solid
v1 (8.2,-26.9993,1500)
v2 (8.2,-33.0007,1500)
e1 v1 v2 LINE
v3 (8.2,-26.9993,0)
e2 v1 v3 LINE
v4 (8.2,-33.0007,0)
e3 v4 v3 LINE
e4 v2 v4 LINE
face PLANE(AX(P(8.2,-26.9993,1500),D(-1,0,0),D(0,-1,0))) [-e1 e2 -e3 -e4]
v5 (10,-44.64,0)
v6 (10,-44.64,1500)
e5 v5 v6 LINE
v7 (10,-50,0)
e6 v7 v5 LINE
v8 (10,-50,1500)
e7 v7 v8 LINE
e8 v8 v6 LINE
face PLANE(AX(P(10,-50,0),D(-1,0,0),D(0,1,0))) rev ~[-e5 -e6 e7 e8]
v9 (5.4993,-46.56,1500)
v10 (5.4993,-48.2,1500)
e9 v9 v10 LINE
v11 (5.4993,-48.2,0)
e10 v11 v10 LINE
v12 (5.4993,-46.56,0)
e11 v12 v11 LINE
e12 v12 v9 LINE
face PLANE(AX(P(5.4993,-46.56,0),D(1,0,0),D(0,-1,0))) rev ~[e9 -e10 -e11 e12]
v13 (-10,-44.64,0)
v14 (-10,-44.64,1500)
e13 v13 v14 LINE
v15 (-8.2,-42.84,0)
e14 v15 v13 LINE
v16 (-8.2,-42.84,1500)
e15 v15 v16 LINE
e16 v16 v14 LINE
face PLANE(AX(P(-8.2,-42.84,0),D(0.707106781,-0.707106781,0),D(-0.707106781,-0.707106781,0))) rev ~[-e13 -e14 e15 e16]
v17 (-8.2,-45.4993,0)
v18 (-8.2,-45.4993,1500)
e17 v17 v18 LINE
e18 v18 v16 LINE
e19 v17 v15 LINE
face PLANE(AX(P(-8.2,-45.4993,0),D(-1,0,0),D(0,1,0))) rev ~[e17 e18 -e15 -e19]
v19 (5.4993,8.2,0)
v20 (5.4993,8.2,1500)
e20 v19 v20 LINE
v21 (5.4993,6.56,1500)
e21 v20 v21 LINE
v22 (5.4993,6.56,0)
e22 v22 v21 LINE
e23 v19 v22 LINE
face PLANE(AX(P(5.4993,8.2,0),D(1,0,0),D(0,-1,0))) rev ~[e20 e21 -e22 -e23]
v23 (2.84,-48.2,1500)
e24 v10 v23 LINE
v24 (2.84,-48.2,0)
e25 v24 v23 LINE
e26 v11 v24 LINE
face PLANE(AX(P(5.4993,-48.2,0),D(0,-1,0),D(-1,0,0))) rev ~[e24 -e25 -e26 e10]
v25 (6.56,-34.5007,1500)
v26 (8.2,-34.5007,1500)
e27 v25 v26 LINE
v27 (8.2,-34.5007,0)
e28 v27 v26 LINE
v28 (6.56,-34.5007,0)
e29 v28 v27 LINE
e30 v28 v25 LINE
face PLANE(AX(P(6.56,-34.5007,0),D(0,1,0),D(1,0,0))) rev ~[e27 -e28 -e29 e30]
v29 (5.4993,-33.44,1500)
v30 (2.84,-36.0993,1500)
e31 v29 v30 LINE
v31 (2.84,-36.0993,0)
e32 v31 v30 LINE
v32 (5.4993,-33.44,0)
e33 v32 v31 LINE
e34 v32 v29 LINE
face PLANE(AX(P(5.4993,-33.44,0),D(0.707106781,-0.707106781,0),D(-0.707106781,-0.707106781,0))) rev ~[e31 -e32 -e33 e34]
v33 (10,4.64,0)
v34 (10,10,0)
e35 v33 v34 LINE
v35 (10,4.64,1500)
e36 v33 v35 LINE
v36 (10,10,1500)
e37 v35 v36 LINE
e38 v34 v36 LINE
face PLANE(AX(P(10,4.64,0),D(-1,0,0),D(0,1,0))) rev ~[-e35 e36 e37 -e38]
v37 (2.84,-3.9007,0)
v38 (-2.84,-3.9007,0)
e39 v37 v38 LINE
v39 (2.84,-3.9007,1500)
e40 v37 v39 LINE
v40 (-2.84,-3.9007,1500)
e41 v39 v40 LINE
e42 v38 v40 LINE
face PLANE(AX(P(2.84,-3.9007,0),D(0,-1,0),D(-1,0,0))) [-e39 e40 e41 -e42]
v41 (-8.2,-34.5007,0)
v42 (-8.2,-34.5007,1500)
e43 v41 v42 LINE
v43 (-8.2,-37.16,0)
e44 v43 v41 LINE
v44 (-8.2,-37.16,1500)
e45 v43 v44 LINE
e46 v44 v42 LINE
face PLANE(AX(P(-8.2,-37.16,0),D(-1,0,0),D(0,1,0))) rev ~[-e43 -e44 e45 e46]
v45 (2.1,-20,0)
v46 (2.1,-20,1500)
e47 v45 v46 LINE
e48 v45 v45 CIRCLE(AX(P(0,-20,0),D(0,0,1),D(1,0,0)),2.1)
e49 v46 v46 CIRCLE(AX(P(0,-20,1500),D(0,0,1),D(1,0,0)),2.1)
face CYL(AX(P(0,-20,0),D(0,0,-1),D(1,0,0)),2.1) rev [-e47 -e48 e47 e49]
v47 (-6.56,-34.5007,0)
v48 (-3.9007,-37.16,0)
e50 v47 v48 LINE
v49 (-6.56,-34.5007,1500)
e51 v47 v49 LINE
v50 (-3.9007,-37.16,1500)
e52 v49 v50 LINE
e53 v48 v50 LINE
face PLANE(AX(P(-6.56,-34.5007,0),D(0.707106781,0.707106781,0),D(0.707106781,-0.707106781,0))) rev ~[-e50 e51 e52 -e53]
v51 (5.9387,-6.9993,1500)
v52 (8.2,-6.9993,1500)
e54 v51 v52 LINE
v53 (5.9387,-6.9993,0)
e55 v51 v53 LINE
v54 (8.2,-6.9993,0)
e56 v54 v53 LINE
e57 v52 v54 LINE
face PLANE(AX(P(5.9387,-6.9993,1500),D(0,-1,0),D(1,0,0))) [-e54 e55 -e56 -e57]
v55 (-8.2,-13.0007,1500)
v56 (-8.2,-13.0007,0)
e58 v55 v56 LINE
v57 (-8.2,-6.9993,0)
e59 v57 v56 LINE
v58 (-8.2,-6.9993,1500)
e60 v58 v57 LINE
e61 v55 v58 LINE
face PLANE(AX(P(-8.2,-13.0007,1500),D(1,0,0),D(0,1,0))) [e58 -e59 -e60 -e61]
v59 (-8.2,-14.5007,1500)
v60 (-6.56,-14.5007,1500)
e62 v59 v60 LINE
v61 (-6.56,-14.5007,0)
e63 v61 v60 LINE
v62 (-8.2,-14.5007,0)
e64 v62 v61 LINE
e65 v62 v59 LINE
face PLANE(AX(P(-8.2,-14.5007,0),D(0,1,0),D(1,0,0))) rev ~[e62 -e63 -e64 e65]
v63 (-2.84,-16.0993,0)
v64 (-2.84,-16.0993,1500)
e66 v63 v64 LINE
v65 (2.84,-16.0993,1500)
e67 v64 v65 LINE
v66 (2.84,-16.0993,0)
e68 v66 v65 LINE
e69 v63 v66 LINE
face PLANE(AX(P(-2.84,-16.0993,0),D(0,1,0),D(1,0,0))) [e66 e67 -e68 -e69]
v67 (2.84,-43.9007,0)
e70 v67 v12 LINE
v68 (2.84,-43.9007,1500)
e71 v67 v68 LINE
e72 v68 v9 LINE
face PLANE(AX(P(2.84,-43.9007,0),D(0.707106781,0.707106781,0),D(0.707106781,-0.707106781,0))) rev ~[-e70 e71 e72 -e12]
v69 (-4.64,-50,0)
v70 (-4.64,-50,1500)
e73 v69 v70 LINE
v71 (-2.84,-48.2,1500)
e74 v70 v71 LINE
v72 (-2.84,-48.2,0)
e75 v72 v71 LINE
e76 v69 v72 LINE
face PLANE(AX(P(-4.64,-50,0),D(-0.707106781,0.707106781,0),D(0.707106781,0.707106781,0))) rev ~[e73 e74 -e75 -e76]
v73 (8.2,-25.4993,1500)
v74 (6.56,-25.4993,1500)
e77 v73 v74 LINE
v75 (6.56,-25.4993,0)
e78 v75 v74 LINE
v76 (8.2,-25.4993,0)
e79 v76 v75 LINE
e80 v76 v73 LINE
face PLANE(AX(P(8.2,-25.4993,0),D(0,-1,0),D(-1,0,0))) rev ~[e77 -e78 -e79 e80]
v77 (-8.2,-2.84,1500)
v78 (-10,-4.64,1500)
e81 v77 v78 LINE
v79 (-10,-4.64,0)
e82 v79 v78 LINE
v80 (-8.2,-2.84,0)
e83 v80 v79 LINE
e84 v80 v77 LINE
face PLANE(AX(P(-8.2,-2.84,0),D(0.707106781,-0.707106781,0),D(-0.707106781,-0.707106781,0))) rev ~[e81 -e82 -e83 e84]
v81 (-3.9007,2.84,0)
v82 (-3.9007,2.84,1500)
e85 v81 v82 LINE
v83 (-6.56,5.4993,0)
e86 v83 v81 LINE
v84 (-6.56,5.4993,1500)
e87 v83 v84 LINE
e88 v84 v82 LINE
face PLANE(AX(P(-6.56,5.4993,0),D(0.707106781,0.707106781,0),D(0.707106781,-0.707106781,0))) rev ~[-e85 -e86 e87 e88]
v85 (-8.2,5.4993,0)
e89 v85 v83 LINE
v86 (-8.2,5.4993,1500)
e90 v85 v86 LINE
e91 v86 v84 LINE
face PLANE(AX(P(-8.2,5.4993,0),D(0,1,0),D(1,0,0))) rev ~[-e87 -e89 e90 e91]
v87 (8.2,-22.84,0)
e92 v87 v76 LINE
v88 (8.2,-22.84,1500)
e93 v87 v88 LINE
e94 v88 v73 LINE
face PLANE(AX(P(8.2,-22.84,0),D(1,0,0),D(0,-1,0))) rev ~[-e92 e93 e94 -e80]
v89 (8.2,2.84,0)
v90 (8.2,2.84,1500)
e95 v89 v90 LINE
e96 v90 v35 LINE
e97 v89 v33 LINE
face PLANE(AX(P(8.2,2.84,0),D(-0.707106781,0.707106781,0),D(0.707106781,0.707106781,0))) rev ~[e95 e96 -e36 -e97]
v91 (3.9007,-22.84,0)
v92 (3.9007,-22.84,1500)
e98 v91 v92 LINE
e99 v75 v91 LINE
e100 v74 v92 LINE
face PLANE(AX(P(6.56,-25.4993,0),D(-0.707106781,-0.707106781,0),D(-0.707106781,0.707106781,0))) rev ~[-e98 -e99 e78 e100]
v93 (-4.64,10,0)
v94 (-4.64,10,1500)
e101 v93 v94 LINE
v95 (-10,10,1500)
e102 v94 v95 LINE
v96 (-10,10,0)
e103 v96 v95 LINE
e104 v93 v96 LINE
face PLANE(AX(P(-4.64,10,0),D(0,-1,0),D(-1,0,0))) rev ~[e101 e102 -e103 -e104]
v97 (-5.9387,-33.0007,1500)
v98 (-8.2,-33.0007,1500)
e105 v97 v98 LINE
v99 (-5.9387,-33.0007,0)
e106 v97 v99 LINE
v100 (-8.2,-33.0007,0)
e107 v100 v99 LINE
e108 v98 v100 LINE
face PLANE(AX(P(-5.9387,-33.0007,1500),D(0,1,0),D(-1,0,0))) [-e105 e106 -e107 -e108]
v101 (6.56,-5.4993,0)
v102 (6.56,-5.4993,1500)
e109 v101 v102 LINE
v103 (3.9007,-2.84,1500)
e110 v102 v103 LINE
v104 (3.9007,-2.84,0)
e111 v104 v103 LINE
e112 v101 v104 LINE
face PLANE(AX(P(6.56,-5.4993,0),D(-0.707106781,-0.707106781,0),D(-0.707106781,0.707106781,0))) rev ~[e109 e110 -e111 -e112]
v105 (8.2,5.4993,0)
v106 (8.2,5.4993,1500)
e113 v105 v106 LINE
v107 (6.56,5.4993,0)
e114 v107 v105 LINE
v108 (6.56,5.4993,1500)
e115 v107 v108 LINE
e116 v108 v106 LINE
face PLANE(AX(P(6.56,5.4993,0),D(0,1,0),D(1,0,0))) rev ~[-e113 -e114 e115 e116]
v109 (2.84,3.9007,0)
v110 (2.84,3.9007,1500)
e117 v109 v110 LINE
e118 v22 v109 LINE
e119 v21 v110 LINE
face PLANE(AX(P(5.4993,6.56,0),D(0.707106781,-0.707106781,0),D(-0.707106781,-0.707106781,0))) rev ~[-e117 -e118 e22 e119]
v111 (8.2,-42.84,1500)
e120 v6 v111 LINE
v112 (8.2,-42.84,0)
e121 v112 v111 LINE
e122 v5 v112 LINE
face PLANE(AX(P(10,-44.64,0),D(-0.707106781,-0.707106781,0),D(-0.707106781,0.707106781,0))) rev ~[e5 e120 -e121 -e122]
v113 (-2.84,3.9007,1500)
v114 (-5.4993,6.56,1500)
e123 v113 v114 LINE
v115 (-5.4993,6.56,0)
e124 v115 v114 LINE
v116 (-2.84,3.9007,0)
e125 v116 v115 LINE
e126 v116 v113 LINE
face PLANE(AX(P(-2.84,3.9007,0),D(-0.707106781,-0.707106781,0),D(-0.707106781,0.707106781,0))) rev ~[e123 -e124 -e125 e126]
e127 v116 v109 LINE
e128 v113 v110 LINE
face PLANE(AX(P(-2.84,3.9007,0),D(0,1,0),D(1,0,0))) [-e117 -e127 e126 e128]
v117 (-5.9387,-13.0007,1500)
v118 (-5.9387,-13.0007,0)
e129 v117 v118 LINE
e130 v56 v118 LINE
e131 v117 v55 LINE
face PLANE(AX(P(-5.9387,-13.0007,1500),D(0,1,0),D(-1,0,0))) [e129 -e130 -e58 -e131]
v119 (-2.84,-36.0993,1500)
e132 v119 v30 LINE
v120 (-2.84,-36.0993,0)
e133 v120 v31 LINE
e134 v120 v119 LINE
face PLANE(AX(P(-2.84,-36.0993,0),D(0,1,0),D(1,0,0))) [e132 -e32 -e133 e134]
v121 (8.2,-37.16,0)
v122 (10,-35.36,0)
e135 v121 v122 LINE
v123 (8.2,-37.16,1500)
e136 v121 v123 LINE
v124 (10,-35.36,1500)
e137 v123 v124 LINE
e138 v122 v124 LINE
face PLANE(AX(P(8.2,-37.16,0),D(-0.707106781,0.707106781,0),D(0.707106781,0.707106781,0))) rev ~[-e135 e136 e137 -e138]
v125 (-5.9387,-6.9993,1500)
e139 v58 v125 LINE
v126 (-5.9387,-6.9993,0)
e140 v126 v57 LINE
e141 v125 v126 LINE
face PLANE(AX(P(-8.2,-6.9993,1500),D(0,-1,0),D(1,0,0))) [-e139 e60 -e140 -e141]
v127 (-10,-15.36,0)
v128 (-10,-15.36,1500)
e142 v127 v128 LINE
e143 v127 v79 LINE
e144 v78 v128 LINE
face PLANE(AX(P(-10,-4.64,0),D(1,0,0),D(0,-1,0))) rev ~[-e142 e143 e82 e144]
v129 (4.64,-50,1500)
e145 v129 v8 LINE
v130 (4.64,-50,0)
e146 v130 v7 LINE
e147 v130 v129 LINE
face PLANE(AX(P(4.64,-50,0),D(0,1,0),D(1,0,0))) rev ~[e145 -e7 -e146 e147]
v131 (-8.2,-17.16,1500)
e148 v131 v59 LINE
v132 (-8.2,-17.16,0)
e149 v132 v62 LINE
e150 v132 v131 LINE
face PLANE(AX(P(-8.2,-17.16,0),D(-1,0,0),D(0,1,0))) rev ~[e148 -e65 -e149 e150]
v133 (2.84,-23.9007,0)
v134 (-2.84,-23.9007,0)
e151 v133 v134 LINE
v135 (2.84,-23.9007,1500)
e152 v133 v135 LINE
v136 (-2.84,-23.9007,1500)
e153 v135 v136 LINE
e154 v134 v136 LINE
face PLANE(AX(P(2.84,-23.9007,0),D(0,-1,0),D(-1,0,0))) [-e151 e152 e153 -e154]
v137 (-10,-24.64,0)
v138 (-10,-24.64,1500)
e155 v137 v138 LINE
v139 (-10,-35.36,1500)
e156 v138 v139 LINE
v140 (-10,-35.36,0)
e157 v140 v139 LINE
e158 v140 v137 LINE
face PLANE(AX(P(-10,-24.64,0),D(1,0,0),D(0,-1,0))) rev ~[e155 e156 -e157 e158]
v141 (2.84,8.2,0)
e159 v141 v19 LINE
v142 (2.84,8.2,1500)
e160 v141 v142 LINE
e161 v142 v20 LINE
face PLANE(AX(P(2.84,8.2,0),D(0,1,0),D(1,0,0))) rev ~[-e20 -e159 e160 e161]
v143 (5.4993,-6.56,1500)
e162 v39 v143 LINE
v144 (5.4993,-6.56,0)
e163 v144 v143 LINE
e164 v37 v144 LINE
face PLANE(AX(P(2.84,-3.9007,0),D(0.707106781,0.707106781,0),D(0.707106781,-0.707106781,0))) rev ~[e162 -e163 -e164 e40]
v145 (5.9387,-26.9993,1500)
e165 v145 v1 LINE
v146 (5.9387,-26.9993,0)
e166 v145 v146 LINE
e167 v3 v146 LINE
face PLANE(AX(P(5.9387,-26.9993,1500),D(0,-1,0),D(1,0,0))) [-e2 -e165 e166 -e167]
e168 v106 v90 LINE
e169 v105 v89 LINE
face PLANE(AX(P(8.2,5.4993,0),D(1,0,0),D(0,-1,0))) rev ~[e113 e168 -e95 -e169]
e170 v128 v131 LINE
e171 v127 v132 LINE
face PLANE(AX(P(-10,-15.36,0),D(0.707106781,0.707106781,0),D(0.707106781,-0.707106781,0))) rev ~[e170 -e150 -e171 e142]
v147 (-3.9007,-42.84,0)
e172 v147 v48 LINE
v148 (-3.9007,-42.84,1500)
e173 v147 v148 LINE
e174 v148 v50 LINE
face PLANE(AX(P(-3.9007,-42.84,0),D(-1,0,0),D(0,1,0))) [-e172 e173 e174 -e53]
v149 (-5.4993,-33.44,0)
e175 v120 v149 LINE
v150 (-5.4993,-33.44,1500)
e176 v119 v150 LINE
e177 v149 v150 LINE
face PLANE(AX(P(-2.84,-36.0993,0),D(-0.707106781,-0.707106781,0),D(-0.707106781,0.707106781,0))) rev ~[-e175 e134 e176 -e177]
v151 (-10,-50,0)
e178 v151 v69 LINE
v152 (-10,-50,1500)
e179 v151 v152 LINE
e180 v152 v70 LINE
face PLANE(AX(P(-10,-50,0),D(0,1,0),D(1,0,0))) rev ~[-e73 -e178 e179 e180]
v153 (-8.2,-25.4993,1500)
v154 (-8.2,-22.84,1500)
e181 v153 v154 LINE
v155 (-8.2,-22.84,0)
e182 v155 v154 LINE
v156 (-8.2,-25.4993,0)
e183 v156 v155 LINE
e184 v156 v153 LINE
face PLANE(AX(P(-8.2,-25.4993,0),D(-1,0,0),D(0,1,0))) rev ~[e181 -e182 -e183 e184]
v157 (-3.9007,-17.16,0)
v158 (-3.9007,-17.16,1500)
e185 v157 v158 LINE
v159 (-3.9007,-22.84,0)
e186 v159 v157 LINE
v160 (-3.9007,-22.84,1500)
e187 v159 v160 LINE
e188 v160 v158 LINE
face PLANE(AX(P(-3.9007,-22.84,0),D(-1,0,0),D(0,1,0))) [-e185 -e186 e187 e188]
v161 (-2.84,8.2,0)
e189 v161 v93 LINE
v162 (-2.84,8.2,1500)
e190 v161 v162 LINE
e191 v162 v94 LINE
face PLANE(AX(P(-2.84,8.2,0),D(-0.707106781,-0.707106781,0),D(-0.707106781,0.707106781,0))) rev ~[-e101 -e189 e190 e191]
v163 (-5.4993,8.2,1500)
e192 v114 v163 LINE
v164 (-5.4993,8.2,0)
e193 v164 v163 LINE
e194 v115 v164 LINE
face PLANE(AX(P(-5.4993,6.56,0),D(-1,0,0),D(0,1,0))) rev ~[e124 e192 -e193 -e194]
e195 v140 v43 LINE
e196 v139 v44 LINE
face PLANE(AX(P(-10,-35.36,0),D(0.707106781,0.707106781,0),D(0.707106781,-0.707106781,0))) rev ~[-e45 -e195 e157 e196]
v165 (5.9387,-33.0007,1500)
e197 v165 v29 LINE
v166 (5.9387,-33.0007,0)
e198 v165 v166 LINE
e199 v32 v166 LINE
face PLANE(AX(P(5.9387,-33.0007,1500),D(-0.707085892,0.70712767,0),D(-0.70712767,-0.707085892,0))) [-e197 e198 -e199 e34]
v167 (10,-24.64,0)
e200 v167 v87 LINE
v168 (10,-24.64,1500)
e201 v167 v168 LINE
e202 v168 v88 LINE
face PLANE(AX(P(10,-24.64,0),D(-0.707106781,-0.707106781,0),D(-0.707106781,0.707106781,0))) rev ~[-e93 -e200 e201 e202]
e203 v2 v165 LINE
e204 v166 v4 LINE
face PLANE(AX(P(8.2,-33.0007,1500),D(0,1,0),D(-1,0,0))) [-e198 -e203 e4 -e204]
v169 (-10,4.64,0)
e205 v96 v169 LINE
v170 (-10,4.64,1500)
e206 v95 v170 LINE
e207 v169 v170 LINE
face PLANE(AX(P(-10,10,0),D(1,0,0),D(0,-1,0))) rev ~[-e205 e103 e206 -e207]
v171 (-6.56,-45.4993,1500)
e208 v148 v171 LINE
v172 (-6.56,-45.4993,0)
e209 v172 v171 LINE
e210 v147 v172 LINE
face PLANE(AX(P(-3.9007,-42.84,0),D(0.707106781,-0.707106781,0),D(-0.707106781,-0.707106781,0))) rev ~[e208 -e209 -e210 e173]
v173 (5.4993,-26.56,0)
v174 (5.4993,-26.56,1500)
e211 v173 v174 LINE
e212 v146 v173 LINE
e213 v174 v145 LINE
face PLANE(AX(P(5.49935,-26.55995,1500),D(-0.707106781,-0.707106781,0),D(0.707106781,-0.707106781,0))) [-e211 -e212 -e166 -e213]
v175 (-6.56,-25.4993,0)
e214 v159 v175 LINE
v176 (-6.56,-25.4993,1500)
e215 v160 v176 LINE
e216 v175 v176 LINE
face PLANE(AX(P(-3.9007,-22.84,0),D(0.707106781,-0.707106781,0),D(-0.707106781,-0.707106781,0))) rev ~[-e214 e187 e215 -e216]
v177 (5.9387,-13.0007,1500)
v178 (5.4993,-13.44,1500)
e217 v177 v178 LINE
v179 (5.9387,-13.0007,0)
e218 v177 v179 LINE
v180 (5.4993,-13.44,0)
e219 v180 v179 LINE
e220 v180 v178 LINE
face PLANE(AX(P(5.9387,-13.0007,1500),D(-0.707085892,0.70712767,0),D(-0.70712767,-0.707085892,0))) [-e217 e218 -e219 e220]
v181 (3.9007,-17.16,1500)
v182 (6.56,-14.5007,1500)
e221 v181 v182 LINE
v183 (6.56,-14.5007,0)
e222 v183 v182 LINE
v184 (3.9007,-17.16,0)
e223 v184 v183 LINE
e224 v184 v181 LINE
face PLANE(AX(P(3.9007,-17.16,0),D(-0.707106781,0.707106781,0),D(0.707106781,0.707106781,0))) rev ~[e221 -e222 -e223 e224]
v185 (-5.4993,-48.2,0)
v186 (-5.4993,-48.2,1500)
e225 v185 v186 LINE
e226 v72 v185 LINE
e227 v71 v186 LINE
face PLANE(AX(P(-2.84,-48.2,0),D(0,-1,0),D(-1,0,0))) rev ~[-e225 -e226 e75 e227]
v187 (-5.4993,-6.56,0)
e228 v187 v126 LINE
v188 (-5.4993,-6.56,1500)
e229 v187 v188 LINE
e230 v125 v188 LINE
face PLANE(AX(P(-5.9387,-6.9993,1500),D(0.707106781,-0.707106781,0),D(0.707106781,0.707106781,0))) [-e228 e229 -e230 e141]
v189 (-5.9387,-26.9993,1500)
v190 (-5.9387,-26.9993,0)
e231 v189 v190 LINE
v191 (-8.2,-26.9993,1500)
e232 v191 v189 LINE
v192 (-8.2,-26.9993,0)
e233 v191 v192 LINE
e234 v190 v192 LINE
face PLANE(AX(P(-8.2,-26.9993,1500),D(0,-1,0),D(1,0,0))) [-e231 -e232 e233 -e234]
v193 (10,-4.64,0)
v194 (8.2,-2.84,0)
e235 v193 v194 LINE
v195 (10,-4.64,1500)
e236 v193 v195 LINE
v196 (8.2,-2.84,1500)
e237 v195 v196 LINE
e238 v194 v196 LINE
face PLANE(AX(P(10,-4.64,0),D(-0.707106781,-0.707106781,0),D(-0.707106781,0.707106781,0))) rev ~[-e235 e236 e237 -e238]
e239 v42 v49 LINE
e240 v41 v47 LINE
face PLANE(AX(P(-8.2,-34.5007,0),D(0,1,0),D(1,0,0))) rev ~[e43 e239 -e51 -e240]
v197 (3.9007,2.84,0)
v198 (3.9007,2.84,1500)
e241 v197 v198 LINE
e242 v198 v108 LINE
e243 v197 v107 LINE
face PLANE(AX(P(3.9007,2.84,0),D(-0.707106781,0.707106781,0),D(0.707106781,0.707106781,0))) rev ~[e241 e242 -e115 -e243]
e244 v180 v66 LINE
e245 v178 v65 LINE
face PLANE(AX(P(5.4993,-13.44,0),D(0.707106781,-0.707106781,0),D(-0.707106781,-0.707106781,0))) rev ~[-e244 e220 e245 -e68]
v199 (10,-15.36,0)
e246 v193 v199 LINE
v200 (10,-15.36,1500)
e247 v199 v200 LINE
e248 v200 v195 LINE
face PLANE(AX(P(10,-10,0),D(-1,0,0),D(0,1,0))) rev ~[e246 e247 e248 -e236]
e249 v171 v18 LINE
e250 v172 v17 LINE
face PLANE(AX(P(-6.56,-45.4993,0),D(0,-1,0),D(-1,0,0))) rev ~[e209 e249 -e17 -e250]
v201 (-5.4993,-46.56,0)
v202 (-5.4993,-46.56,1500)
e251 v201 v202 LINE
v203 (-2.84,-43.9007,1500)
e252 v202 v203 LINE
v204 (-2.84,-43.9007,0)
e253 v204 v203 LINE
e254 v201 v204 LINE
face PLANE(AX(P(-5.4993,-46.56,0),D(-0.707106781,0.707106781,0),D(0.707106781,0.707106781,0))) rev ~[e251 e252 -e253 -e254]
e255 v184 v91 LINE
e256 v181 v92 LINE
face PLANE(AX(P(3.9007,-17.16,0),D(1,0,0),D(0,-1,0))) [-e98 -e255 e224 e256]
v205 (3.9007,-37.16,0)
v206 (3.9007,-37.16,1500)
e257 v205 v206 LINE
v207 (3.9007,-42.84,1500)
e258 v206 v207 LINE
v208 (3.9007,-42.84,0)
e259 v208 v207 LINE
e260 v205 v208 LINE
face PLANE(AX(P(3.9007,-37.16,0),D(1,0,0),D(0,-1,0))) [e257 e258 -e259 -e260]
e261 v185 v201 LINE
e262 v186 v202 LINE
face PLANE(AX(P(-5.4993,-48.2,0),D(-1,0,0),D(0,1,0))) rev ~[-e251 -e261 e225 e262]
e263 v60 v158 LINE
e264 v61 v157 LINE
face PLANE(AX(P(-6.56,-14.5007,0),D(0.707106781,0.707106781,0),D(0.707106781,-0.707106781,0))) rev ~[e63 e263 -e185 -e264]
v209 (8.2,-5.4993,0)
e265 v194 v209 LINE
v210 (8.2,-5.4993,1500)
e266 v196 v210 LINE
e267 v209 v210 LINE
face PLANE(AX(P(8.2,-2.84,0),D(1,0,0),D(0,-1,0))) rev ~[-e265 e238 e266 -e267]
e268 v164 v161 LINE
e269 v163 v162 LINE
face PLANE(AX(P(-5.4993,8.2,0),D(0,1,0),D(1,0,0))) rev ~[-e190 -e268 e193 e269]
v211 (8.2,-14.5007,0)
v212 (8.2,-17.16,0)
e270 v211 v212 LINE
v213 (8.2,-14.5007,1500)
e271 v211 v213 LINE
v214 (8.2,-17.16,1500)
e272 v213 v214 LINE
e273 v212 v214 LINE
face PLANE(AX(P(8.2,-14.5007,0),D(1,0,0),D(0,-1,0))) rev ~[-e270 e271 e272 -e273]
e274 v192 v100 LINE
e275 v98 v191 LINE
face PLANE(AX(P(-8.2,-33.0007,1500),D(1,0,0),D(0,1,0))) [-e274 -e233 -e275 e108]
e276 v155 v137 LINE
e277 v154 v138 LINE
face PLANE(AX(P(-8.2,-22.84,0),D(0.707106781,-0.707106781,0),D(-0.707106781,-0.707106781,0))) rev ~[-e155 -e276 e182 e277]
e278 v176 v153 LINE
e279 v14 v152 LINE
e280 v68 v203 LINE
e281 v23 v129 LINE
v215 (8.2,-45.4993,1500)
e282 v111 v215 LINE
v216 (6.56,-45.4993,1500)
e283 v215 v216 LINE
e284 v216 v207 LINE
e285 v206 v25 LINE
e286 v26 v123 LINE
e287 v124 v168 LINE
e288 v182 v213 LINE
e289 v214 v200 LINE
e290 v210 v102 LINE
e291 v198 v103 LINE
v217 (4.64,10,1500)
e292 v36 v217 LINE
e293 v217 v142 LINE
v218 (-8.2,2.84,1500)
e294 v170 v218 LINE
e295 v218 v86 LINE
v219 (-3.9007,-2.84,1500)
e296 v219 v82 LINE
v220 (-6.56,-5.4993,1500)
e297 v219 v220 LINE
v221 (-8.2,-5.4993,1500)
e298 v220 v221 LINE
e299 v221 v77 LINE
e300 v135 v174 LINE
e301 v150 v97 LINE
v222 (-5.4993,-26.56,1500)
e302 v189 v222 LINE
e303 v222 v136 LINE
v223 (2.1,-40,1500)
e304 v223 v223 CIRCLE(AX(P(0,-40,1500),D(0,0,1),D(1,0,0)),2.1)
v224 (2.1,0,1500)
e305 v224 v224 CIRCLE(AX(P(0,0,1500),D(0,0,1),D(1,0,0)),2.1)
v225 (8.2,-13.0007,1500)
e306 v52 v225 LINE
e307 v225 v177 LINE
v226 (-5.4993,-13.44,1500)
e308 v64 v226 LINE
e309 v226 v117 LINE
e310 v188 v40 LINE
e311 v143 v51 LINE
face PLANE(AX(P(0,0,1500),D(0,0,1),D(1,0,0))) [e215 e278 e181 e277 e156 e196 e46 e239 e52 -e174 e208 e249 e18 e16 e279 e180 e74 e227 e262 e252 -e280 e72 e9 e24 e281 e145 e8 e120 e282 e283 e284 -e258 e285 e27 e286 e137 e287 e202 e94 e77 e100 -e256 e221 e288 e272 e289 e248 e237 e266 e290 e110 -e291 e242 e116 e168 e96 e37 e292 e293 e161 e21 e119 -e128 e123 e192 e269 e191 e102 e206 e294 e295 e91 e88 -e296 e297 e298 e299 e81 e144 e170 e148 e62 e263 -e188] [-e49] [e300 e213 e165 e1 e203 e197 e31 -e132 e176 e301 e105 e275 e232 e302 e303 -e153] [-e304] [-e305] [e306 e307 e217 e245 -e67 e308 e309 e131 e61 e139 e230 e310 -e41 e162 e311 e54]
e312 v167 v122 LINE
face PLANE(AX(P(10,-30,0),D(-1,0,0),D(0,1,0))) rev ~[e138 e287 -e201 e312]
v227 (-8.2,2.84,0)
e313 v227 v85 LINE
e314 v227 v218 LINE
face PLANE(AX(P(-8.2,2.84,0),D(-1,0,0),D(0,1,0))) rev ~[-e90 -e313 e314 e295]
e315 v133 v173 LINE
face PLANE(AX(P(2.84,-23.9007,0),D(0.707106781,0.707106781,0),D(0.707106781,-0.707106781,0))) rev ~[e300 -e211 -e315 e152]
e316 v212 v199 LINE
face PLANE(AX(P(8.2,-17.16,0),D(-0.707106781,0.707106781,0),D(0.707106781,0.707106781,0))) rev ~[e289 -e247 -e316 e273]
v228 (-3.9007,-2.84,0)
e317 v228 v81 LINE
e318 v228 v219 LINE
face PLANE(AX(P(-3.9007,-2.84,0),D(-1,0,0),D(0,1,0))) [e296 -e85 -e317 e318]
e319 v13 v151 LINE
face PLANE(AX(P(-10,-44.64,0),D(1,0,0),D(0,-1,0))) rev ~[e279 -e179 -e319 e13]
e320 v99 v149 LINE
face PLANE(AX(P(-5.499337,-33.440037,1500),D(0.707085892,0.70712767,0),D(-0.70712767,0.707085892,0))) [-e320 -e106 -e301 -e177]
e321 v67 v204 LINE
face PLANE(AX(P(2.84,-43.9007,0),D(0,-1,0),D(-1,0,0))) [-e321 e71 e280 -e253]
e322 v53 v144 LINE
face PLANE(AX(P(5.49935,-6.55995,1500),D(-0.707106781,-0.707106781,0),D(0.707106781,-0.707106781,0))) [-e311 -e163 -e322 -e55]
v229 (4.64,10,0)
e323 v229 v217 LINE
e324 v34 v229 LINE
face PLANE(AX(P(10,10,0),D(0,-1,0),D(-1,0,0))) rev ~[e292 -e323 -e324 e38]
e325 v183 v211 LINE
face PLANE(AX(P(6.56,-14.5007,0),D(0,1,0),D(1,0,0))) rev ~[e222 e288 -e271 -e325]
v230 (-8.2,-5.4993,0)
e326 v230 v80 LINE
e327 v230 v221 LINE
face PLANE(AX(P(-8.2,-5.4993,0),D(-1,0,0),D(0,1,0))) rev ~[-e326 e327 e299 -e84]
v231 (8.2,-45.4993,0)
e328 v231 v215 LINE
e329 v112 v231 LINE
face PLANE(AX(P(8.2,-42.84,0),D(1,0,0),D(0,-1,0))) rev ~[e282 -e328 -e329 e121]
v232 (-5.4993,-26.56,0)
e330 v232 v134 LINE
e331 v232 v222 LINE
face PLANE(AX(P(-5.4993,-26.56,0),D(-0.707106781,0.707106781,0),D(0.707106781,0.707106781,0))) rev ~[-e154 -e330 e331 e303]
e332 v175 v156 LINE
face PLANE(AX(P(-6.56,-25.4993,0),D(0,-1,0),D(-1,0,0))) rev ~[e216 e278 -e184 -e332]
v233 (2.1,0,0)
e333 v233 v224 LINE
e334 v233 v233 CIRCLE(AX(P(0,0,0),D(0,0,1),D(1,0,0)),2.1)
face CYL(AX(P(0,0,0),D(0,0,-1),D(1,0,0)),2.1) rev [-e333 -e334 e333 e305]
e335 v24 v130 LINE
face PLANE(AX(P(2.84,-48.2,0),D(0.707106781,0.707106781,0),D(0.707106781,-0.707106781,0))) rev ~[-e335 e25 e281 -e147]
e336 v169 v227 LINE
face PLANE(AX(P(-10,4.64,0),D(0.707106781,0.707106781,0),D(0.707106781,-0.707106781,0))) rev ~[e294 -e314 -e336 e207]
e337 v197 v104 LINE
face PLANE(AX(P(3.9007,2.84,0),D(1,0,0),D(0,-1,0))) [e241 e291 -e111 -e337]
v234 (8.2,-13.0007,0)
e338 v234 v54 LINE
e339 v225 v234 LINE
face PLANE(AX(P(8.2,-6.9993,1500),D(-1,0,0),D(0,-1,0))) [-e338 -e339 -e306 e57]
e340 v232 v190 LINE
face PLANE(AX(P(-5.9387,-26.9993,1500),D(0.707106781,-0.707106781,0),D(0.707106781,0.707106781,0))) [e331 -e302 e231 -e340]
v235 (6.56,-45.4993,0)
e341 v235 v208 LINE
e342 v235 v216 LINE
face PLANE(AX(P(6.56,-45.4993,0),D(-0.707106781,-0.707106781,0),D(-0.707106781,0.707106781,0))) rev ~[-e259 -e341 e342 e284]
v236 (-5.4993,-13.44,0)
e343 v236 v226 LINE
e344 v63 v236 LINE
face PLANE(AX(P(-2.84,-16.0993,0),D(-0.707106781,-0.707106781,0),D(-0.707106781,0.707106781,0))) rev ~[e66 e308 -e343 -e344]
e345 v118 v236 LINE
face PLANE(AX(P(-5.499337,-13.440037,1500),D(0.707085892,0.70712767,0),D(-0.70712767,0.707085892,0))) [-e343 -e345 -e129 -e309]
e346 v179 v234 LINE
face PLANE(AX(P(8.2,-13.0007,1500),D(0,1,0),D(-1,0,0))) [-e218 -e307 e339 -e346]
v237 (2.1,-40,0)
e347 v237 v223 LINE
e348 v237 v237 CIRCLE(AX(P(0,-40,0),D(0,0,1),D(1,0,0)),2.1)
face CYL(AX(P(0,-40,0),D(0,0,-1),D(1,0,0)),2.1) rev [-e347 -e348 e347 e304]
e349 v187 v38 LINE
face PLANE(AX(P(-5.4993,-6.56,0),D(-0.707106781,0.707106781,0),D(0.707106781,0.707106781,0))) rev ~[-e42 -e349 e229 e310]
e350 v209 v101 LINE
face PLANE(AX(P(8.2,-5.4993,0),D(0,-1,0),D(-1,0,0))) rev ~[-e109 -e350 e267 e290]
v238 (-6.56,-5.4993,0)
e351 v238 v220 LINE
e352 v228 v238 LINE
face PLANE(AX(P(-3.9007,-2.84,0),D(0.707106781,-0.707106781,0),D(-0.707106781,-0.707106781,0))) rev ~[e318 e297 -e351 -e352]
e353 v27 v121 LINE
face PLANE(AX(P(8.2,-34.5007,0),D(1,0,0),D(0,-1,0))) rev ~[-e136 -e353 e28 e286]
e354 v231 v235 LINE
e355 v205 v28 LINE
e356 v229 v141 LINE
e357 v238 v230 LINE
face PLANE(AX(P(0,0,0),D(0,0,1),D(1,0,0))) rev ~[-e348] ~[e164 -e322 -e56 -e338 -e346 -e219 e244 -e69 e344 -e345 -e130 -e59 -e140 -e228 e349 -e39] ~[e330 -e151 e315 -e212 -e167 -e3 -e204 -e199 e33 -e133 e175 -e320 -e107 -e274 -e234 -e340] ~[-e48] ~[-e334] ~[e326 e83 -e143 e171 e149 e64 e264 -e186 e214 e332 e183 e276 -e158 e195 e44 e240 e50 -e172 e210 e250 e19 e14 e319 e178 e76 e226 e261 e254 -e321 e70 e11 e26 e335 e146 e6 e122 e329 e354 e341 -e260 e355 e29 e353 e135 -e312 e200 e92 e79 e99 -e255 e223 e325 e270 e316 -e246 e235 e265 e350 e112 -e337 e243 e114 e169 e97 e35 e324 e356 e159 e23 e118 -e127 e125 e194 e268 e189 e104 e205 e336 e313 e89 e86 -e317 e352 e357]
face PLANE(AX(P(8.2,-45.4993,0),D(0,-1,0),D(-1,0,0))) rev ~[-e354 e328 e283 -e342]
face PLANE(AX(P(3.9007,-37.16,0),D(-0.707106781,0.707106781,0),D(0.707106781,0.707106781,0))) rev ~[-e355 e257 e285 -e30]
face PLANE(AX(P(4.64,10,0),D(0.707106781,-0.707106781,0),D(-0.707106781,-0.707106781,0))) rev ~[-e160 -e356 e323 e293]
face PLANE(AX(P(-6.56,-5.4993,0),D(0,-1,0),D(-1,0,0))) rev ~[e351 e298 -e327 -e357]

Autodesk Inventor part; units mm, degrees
ref_plane "YZ Plane" through (0, 0, 0) normal (1, 0, 0) x (0, 1, 0)
ref_plane "XZ Plane" through (0, 0, 0) normal (0, 1, 0) x (-1, 0, 0)
ref_plane "XY Plane" through (0, 0, 0) normal (0, 0, 1) x (1, 0, 0)
sketch "Sketch1" plane through (0, 0, 0) normal (0, 0, 1) x (1, 0, 0)
  line L0 (-3.9007, 3.9007) -> (3.9007, 3.9007)
  line L1 (3.9007, 3.9007) -> (3.9007, -3.9007)
  line L2 (3.9007, -3.9007) -> (-3.9007, -3.9007)
  line L3 (-3.9007, -3.9007) -> (-3.9007, 3.9007)
  line L4 (0, 3.9007) -> (0, -3.9007) construction
  line L5 (-3.9007, 0) -> (3.9007, 0) construction
  circle A0 centre (0, 0) radius 2.1
  line L6 (0, 0) -> (-16.1173, 16.1173) construction
  line L7 (0, 0) -> (22.7933, 0) construction
  line L8 (-2.84, 3.9007) -> (-5.4993, 6.56)
  line L9 (-5.4993, 6.56) -> (-5.4993, 8.2)
  line L10 (-5.4993, 8.2) -> (-2.84, 8.2)
  line L11 (-2.84, 8.2) -> (-4.64, 10)
  line L12 (-4.64, 10) -> (-10, 10)
  line L13 (-10, 10) -> (-10, 4.64)
  line L14 (-10, 4.64) -> (-8.2, 2.84)
  line L15 (-8.2, 2.84) -> (-8.2, 5.4993)
  line L16 (-8.2, 5.4993) -> (-6.56, 5.4993)
  line L17 (-6.56, 5.4993) -> (-3.9007, 2.84)
  line L18 (-3.9007, 2.84) -> (-11.3102, 2.84) construction
  line L19 (-2.84, 3.9007) -> (-3.9007, 3.9007)
  line L20 (-3.9007, 2.84) -> (-3.9007, 3.9007)
  line L21 (-3.9007, -2.84) -> (-6.56, -5.4993)
  line L22 (-6.56, -5.4993) -> (-8.2, -5.4993)
  line L23 (-8.2, -5.4993) -> (-8.2, -2.84)
  line L24 (-8.2, -2.84) -> (-10, -4.64)
  line L25 (-10, -4.64) -> (-10, -10)
  line L26 (-10, -10) -> (-4.64, -10)
  line L27 (-4.64, -10) -> (-2.84, -8.2)
  line L28 (-2.84, -8.2) -> (-5.4993, -8.2)
  line L29 (-5.4993, -8.2) -> (-5.4993, -6.56)
  line L30 (-5.4993, -6.56) -> (-2.84, -3.9007)
  line L31 (-3.9007, -2.84) -> (-3.9007, -3.9007)
  line L32 (-2.84, -3.9007) -> (-3.9007, -3.9007)
  line L33 (2.84, -3.9007) -> (5.4993, -6.56)
  line L34 (5.4993, -6.56) -> (5.4993, -8.2)
  line L35 (5.4993, -8.2) -> (2.84, -8.2)
  line L36 (2.84, -8.2) -> (4.64, -10)
  line L37 (4.64, -10) -> (10, -10)
  line L38 (10, -10) -> (10, -4.64)
  line L39 (10, -4.64) -> (8.2, -2.84)
  line L40 (8.2, -2.84) -> (8.2, -5.4993)
  line L41 (8.2, -5.4993) -> (6.56, -5.4993)
  line L42 (6.56, -5.4993) -> (3.9007, -2.84)
  line L43 (2.84, -3.9007) -> (3.9007, -3.9007)
  line L44 (3.9007, -2.84) -> (3.9007, -3.9007)
  line L45 (3.9007, 2.84) -> (6.56, 5.4993)
  line L46 (6.56, 5.4993) -> (8.2, 5.4993)
  line L47 (8.2, 5.4993) -> (8.2, 2.84)
  line L48 (8.2, 2.84) -> (10, 4.64)
  line L49 (10, 4.64) -> (10, 10)
  line L50 (10, 10) -> (4.64, 10)
  line L51 (4.64, 10) -> (2.84, 8.2)
  line L52 (2.84, 8.2) -> (5.4993, 8.2)
  line L53 (5.4993, 8.2) -> (5.4993, 6.56)
  line L54 (5.4993, 6.56) -> (2.84, 3.9007)
  line L55 (3.9007, 2.84) -> (3.9007, 3.9007)
  line L56 (2.84, 3.9007) -> (3.9007, 3.9007)
  dimension "d7" = 4.2
  dimension "d8" = 135
  dimension "d9" = 1.5
  dimension "d10" = 1.64
  dimension "d11" = 1.8
  dimension "d12" = 2.84
  dimension "d13" = 10
  dimension "d16" = 360
extrude "Extrusion1" add sketch "Sketch1" along normal blind 1500
pattern_linear "Rectangular Pattern1" count 3 spacing 20 along (0, -1, 0) of "Extrusion1"
sketch "Sketch2" plane through (0, 0, 1500) normal (0, 0, 1) x (1, 0, 0)
  line L0 (8.2, -2.84) -> (8.2, -5.4993) projected
  line L1 (8.2, -5.4993) -> (6.56, -5.4993) projected
  line L2 (-6.56, -5.4993) -> (-8.2, -5.4993) projected
  line L3 (-8.2, -5.4993) -> (-8.2, -2.84) projected
  line L4 (-8.2, -14.5007) -> (-6.56, -14.5007) projected
  line L5 (6.56, -14.5007) -> (8.2, -14.5007) projected
  line L6 (5.4993, -11.8) -> (5.4993, -13.44) projected
  line L7 (5.4993, -13.44) -> (2.84, -16.0993) projected
  line L8 (-2.84, -16.0993) -> (-5.4993, -13.44) projected
  line L9 (-5.4993, -8.2) -> (-5.4993, -6.56) projected
  line L10 (-5.4993, -6.56) -> (-2.84, -3.9007) projected
  line L11 (2.84, -3.9007) -> (5.4993, -6.56) projected
  line L12 (2.84, -8.2) -> (4.64, -10) projected
  line L13 (-8.2, -6.9993) -> (-5.9387, -6.9993)
  line L14 (-5.9387, -6.9993) -> (-4.1231, -5.1837)
  line L15 (-4.1231, -5.1837) -> (4.1231, -5.1837)
  line L16 (4.1231, -5.1837) -> (5.9387, -6.9993)
  line L17 (5.9387, -6.9993) -> (8.2, -6.9993)
  line L18 (8.2, -6.9993) -> (8.2, -13.0007)
  line L19 (8.2, -13.0007) -> (5.9387, -13.0007)
  line L20 (5.9387, -13.0007) -> (4.2461, -14.6932)
  line L21 (4.2461, -14.6932) -> (-4.2461, -14.6932)
  line L22 (-4.2461, -14.6932) -> (-5.9387, -13.0007)
  line L23 (-5.9387, -13.0007) -> (-8.2, -13.0007)
  line L24 (-8.2, -13.0007) -> (-8.2, -6.9993)
  dimension "d23" = 1.5
  dimension "d24" = 1.5
  dimension "d25" = 1.5
  dimension "d26" = 1.5
extrude "Extrusion2" cut sketch "Sketch2" against normal up to next
pattern_linear "Rectangular Pattern2" count 2 spacing 20 along (0, -1, 0) of "Extrusion2"
equation "\"d24\" = d23"
equation "\"d25\" = d23"
equation "\"d26\" = d23"
properties part number "20x60x1500mm"
